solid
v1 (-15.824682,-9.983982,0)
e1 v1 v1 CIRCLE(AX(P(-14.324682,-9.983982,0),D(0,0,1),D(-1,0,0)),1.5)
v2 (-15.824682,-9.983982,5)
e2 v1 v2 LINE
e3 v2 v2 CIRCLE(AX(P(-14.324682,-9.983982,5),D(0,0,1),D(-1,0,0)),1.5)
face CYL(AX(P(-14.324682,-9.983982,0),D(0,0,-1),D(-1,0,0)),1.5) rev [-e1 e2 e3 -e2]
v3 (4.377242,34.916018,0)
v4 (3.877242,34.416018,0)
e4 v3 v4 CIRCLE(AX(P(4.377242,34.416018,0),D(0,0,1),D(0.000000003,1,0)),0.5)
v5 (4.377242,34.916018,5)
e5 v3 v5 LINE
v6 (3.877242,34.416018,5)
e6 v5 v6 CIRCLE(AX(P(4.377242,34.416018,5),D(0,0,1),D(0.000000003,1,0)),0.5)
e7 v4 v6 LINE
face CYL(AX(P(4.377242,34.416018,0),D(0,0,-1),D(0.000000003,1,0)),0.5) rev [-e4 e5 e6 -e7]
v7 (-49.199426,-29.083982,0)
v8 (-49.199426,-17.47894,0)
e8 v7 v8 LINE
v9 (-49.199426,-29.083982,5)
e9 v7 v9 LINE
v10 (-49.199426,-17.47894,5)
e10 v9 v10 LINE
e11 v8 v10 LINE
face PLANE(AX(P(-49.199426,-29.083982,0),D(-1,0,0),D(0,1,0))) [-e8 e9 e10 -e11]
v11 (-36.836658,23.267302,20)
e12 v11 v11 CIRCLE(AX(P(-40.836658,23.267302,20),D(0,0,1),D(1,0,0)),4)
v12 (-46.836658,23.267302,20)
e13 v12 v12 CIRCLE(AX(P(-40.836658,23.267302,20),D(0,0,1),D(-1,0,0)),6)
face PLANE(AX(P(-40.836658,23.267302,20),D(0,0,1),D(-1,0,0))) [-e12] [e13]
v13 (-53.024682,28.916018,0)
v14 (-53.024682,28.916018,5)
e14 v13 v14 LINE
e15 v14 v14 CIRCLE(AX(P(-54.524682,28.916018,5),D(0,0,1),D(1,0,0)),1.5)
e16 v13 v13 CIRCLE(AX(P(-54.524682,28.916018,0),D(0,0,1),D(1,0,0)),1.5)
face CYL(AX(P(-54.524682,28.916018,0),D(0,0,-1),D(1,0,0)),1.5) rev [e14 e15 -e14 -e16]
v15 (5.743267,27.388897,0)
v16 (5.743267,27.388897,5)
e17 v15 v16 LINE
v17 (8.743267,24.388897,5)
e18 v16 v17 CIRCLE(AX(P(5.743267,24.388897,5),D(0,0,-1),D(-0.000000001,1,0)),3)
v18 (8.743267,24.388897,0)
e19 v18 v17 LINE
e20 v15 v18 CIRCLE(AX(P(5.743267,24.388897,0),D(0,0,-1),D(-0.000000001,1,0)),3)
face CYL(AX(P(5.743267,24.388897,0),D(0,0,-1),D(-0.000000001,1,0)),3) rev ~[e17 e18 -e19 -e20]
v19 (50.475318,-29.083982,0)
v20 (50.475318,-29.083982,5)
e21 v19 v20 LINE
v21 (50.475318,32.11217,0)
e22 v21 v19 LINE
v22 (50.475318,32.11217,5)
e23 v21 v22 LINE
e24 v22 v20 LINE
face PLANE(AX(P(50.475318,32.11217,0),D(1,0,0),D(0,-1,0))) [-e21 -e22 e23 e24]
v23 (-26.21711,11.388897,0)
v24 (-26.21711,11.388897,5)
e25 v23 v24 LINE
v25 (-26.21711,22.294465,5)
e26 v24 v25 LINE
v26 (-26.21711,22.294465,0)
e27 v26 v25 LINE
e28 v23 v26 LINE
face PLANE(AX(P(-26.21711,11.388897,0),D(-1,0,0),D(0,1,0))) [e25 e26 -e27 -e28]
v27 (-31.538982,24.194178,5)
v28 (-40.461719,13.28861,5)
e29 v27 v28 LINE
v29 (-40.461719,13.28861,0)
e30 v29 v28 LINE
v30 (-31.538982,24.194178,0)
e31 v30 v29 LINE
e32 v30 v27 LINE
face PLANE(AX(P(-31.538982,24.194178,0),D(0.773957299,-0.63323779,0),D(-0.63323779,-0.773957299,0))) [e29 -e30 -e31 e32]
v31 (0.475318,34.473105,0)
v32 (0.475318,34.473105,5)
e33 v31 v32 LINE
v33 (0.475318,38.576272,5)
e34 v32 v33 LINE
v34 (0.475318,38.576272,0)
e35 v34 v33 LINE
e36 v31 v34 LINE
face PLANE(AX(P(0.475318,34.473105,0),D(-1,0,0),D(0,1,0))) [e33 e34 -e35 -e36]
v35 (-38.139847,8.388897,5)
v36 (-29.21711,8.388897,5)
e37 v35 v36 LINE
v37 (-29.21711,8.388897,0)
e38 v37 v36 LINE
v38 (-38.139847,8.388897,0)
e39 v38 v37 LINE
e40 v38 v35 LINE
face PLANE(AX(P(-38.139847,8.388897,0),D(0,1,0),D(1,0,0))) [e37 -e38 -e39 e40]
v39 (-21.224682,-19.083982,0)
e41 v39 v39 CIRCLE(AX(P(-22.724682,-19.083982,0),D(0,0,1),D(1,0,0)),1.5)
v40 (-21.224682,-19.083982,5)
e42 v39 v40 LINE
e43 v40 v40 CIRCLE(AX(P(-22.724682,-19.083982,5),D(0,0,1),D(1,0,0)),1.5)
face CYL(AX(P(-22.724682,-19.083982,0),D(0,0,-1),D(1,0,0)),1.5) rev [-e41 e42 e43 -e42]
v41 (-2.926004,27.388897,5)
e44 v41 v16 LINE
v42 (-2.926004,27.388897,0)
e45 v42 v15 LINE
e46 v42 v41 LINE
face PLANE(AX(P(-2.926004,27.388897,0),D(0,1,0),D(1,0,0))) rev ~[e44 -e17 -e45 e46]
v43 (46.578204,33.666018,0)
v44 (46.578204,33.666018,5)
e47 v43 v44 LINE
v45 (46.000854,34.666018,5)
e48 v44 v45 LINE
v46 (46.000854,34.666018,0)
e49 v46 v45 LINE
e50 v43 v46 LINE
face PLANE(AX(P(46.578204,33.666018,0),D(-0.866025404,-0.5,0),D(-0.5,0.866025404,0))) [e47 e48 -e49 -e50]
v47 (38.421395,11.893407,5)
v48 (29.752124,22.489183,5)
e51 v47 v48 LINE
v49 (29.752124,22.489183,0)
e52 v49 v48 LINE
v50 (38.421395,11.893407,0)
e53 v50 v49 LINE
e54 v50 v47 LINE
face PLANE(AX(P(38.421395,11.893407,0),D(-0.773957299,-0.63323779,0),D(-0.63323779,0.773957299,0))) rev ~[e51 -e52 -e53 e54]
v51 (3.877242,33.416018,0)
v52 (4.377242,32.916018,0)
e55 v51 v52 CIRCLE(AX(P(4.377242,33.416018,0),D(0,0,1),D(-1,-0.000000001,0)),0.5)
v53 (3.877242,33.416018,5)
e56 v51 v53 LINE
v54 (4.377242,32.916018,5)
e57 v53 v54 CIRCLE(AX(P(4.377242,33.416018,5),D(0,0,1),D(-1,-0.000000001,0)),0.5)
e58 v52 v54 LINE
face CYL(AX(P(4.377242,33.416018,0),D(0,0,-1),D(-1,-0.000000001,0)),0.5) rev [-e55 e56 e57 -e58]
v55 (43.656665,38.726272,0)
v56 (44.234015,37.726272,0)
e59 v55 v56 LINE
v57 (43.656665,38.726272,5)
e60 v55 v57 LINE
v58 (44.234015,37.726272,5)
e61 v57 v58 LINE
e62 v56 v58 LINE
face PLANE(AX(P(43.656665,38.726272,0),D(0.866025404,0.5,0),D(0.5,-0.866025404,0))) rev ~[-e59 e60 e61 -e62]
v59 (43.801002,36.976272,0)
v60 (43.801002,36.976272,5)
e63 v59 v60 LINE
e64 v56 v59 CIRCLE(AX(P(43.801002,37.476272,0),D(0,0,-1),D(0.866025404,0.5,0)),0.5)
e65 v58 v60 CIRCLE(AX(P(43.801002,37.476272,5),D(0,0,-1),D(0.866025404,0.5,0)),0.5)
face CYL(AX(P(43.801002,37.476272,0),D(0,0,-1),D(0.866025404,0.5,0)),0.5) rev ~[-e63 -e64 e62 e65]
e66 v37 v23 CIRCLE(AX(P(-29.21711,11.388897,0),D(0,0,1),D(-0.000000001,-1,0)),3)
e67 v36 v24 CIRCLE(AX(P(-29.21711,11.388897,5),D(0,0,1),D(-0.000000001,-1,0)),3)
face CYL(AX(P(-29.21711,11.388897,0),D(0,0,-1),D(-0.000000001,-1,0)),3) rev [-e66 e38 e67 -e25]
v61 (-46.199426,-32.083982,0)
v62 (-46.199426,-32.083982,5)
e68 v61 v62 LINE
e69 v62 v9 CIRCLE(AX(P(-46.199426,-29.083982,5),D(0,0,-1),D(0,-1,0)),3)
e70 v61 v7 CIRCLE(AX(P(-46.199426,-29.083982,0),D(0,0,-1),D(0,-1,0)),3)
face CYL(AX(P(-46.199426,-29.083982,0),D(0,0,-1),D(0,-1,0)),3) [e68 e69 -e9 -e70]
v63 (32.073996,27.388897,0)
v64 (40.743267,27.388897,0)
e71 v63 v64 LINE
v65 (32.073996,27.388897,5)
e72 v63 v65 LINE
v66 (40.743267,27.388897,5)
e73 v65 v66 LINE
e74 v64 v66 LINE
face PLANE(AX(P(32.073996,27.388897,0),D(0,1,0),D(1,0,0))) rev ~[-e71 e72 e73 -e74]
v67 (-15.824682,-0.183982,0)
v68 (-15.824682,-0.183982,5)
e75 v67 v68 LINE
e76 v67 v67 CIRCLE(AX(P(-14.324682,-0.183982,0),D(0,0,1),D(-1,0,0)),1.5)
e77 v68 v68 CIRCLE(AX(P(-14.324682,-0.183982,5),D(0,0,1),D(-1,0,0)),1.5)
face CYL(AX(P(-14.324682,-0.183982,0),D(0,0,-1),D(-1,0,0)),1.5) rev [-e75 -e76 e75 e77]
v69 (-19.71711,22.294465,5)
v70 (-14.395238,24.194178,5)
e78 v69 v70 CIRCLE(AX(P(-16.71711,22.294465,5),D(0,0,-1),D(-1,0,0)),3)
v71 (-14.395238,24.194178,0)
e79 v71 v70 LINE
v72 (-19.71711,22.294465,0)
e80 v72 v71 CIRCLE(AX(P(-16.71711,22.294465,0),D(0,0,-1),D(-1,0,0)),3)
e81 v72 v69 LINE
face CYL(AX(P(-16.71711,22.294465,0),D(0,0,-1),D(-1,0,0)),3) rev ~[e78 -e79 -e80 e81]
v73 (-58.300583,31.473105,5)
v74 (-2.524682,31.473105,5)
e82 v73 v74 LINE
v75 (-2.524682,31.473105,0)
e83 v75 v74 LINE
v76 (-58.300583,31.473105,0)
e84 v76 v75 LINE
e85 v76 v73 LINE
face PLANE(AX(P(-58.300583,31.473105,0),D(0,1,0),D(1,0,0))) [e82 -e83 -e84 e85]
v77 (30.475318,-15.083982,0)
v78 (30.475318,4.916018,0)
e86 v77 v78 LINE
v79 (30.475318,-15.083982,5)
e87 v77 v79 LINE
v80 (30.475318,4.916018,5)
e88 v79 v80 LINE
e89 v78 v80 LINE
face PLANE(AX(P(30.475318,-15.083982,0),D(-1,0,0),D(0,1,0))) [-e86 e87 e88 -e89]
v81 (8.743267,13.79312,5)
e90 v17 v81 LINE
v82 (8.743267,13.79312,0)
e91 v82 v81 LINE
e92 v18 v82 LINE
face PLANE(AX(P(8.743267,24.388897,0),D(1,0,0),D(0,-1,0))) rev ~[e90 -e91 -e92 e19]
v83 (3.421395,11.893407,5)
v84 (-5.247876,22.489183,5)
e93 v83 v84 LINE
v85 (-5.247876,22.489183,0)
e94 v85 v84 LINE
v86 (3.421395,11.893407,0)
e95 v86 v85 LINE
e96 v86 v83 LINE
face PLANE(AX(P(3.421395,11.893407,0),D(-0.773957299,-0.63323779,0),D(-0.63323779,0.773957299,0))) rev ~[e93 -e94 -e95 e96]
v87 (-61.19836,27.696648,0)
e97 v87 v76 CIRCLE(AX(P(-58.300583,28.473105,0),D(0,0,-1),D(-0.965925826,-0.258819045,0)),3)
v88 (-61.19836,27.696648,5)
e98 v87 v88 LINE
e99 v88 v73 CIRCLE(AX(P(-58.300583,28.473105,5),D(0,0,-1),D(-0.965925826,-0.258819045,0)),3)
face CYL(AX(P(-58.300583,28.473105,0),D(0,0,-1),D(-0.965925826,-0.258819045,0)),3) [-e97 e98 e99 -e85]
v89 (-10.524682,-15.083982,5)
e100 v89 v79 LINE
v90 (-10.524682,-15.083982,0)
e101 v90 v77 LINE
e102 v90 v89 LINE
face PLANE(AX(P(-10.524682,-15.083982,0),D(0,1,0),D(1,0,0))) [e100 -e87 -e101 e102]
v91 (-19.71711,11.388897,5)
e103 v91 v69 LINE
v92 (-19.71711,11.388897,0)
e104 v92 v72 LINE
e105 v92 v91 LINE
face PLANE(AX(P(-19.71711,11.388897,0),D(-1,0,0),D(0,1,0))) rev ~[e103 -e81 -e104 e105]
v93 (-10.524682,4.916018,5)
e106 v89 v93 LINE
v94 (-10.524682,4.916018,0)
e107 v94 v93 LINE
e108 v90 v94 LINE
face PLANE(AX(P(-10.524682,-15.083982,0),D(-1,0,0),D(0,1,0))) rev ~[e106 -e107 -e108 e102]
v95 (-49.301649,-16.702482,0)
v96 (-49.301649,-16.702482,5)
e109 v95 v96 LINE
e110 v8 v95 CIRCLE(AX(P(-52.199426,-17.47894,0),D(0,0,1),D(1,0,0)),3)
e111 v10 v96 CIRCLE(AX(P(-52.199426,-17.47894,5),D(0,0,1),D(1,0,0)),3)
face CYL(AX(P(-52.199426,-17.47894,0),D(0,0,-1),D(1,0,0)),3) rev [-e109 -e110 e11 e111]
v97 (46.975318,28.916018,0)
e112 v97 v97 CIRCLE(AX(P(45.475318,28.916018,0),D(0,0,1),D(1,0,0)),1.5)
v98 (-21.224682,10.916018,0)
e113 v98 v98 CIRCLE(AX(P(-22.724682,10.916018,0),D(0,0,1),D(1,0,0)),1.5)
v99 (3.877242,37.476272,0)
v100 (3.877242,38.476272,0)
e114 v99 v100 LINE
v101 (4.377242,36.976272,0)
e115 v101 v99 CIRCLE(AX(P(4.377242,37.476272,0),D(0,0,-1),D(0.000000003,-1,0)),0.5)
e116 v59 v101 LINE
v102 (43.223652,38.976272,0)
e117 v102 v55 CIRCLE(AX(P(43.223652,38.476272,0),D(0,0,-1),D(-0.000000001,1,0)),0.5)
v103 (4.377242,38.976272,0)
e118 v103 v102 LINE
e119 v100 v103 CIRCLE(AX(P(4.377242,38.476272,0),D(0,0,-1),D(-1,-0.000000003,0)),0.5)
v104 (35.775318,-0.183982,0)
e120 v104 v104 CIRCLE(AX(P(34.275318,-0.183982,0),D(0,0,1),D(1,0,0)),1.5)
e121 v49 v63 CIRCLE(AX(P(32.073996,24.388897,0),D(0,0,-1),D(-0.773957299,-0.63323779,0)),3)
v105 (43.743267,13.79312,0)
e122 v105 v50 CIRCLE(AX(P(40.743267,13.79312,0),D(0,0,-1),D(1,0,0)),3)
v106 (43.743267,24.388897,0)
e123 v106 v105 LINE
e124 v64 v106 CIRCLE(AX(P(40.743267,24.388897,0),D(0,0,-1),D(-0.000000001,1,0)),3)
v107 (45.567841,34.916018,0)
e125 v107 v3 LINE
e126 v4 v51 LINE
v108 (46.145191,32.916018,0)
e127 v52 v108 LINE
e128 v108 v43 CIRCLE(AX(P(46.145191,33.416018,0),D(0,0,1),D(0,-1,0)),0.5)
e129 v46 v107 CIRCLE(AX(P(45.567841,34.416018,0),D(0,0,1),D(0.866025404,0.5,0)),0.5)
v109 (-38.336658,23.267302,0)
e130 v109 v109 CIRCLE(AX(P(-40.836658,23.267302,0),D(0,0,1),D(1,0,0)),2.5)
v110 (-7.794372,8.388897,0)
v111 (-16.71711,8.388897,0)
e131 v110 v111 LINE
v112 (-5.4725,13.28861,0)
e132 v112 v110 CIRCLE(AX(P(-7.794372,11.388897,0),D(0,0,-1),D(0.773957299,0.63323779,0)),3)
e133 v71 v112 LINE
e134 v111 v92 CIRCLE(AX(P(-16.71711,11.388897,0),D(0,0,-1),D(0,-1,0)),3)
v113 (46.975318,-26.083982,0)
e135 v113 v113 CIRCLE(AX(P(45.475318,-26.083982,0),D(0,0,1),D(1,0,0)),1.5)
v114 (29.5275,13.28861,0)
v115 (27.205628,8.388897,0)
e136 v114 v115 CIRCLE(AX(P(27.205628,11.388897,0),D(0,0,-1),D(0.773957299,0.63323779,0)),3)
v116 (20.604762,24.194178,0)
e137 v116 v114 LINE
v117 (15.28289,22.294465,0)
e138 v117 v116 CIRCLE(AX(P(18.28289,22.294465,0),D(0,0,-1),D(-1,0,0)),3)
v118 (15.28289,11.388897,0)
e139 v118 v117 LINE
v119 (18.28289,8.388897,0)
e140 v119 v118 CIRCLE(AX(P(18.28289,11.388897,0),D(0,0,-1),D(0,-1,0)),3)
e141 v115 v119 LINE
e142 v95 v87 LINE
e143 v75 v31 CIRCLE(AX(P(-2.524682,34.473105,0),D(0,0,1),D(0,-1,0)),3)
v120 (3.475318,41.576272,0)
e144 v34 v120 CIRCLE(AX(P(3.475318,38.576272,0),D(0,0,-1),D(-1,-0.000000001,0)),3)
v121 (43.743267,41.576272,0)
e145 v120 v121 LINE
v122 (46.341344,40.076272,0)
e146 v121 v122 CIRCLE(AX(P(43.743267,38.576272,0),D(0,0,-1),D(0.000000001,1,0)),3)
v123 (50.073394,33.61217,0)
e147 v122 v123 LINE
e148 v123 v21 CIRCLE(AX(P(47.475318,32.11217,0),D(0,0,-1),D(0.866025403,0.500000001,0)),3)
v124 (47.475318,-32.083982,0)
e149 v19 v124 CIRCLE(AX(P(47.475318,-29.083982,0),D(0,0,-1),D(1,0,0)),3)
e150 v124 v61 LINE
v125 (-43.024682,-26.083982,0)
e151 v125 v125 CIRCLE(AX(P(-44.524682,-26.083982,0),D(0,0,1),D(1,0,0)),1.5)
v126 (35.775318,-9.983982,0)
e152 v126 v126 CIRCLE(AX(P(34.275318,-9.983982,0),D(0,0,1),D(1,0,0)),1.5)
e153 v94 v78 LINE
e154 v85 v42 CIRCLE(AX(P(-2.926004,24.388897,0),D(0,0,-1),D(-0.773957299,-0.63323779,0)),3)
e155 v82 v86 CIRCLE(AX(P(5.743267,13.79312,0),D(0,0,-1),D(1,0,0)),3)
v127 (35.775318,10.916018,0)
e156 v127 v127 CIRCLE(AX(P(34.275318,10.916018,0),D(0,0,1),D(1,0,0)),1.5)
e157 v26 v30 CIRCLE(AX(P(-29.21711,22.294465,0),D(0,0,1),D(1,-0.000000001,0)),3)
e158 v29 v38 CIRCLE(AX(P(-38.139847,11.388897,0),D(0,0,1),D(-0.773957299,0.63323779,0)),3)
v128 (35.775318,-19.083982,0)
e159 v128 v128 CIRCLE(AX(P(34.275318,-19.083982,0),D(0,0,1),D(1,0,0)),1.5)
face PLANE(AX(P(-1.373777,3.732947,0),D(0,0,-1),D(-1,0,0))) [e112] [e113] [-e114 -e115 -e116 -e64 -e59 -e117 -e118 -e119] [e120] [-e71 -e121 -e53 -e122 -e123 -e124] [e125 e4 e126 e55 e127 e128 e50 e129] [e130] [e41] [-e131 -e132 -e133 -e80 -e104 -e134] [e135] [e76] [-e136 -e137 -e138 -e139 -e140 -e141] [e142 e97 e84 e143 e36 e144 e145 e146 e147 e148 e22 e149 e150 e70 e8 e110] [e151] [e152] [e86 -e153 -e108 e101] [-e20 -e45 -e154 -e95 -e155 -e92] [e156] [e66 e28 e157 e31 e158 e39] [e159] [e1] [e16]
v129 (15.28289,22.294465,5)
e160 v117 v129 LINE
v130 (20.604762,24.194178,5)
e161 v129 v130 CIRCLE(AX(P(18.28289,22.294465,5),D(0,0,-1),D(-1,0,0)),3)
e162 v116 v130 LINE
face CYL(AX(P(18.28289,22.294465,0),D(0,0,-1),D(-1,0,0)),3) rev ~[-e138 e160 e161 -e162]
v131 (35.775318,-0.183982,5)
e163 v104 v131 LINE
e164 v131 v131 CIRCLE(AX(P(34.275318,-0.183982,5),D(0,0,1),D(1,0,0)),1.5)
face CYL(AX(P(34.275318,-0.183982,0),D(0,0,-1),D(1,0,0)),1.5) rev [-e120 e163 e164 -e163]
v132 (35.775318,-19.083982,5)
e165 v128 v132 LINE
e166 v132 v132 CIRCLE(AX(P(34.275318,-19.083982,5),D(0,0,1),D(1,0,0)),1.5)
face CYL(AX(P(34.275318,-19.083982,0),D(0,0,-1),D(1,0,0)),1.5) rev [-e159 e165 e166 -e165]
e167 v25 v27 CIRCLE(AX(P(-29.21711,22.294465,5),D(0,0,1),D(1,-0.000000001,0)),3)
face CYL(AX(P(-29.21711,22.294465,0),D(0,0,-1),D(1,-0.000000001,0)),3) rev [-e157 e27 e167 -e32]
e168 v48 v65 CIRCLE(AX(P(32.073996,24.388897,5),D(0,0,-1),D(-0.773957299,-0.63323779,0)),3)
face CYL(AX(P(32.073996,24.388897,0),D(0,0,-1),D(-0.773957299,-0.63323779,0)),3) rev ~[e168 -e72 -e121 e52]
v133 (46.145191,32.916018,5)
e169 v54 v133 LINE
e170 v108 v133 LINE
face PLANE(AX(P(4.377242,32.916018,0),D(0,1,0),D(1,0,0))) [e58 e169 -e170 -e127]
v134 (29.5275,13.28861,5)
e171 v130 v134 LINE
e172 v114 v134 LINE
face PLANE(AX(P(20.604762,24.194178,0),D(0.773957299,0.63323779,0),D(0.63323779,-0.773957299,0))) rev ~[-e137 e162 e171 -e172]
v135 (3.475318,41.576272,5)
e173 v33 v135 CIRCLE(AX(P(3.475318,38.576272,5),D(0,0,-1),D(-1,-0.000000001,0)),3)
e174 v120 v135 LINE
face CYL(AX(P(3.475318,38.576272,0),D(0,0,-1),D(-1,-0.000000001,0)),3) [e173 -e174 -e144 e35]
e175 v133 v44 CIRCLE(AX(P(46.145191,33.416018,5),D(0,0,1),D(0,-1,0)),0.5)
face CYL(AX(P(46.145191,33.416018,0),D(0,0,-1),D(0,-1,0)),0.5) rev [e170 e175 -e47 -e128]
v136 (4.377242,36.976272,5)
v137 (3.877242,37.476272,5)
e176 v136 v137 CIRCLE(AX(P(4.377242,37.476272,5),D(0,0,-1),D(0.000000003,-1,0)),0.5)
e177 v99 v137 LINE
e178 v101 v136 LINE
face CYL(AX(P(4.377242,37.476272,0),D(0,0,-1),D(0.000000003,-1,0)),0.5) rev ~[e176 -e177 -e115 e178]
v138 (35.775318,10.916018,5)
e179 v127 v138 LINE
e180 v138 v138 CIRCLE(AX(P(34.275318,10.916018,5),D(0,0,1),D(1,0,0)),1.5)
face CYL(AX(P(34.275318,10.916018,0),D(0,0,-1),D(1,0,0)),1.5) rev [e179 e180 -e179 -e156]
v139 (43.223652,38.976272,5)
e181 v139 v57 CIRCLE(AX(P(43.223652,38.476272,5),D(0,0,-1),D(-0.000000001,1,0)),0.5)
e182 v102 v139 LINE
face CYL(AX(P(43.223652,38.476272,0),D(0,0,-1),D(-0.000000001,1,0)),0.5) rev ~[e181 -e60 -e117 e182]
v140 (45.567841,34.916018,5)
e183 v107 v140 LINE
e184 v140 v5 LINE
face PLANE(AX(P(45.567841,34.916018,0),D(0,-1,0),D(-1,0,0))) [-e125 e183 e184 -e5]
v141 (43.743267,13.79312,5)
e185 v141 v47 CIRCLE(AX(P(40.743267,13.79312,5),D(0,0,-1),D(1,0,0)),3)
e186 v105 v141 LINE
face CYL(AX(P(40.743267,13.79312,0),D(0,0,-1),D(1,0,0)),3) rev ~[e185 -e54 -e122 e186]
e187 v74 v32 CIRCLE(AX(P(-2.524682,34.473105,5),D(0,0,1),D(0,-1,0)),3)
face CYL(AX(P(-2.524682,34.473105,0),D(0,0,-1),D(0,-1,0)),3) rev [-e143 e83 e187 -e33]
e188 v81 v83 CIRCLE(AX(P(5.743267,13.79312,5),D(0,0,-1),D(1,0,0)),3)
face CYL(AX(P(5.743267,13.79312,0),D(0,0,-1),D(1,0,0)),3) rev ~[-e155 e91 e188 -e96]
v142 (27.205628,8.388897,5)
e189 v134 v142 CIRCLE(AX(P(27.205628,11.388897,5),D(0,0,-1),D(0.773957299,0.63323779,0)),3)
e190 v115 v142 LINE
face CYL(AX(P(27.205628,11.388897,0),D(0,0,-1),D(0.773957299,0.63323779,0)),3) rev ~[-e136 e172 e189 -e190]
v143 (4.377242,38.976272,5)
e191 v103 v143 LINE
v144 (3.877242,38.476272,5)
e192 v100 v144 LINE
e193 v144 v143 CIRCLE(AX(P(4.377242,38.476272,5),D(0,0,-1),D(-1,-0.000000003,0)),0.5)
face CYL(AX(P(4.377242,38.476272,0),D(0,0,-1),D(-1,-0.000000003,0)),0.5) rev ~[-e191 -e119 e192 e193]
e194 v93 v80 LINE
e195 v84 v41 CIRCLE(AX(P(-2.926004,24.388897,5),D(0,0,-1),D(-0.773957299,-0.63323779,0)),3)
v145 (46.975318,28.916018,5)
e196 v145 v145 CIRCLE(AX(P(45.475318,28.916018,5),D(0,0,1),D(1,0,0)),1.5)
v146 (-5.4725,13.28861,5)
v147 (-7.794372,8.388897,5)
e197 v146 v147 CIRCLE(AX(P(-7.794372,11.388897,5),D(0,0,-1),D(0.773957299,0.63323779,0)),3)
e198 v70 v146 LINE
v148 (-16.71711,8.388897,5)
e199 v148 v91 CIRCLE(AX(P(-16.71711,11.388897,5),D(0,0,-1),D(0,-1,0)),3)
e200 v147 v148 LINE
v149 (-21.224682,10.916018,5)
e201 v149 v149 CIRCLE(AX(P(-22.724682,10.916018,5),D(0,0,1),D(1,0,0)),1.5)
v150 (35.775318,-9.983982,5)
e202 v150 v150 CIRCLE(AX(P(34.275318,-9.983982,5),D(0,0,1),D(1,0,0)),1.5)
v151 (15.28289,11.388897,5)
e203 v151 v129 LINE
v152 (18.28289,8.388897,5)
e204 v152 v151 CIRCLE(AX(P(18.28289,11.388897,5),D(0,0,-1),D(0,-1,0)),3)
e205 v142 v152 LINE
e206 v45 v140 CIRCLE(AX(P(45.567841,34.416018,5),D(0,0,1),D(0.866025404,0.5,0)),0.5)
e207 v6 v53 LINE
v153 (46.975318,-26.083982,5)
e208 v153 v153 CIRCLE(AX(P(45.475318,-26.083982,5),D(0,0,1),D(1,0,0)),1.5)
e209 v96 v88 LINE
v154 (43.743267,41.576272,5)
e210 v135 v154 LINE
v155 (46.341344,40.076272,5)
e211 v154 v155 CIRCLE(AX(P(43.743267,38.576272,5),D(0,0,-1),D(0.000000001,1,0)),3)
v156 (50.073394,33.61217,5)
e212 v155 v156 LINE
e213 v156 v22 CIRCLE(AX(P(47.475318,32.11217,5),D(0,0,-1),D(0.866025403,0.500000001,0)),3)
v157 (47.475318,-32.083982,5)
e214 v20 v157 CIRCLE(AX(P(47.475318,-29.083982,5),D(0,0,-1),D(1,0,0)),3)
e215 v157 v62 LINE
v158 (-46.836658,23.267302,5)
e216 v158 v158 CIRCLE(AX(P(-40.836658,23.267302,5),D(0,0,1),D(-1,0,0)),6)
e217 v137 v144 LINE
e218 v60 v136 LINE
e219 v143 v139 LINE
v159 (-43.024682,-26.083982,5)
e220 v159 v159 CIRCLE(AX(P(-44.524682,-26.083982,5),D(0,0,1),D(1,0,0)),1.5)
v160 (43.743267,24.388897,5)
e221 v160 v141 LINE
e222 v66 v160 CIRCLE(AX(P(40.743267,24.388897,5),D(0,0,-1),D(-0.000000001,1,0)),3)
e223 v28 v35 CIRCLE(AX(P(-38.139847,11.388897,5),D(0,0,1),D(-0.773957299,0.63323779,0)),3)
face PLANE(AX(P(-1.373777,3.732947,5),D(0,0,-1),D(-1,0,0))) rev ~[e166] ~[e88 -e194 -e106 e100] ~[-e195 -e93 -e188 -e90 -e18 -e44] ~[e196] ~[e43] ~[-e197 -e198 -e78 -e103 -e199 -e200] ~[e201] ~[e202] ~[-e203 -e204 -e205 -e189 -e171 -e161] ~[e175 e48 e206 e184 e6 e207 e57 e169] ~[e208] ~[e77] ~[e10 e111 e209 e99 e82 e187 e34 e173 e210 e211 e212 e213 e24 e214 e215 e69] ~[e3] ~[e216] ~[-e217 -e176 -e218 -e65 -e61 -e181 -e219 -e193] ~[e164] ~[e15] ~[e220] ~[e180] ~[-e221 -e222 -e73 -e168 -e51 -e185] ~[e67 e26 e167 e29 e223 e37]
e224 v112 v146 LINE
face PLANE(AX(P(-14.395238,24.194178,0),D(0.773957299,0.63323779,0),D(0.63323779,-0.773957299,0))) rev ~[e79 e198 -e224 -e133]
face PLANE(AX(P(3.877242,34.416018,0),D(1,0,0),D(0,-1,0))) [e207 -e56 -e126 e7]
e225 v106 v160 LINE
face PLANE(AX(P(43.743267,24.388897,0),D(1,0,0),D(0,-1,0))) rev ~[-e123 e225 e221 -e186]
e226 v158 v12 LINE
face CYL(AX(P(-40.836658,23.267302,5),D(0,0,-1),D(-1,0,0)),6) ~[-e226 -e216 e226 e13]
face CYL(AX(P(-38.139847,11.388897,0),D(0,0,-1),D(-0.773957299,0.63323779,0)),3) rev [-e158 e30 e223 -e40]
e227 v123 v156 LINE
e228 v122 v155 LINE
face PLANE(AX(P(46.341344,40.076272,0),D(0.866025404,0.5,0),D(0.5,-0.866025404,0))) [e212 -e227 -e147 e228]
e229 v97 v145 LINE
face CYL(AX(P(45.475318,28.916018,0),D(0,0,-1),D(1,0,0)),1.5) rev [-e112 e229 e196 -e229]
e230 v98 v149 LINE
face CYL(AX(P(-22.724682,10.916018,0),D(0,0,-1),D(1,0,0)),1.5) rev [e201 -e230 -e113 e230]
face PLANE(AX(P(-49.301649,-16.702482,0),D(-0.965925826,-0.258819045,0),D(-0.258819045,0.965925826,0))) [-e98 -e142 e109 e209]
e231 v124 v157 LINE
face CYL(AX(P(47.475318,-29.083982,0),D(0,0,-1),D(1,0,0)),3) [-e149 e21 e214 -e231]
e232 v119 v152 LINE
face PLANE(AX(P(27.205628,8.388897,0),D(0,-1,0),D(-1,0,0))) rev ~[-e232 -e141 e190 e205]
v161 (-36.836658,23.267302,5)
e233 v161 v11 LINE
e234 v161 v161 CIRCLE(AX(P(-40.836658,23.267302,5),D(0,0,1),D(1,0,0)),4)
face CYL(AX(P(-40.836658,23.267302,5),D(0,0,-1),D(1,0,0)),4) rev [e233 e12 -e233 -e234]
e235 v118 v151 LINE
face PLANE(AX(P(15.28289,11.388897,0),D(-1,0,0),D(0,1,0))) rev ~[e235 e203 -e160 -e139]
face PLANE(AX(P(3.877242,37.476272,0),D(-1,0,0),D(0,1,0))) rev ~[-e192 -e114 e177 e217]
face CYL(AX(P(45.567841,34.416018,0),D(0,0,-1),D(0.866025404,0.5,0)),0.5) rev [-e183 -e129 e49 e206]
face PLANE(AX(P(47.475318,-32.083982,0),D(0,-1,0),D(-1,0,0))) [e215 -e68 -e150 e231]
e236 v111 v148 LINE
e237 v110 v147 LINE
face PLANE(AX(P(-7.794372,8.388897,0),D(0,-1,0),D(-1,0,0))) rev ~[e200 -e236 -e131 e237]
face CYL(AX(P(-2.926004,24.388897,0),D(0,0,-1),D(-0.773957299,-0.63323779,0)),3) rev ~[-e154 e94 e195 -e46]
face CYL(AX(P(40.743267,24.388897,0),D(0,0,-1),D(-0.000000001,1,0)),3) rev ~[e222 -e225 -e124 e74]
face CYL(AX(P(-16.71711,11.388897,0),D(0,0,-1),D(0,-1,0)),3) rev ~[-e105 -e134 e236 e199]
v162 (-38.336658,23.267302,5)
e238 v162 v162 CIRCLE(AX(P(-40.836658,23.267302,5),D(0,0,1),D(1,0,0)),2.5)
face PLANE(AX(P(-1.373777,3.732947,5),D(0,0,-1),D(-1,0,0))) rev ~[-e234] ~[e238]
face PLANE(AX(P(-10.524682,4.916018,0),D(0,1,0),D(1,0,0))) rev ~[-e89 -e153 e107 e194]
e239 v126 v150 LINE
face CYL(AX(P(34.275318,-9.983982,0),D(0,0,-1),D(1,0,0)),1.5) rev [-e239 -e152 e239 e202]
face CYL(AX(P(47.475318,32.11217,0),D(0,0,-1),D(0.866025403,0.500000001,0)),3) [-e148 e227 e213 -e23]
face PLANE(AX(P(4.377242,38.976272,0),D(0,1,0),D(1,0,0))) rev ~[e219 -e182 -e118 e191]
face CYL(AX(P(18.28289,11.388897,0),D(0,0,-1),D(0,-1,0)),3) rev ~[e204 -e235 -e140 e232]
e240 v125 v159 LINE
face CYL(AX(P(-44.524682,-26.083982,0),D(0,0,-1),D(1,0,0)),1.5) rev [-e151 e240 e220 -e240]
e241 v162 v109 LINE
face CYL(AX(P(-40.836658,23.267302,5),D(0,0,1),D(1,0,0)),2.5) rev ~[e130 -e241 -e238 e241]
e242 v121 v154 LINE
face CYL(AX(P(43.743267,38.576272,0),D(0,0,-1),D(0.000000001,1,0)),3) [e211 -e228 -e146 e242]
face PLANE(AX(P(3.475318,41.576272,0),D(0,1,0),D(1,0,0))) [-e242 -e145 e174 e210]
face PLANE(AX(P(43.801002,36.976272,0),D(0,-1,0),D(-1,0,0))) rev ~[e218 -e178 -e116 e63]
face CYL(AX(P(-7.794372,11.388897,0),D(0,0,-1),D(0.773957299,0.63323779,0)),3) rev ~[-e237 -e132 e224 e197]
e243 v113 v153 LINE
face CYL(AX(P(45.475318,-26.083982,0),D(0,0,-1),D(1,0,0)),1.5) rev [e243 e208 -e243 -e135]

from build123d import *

# Parameters (mm, degrees)
SKETCH_1_R          = 1.5
SKETCH_1_W          = 41
SKETCH_1_H          = 20
EXTRUDE_1_DEPTH     = 5
SKETCH_6_R          = 6
SKETCH_6_R_2        = 4
EXTRUDE_3_DEPTH     = 15
SKETCH_7_R          = 2.5
CUT_EXTRUDE_1_DEPTH = 76.573459736


with BuildPart() as part:
    # 草图1 → 凸台-拉伸1 (new body)
    with BuildSketch(Plane.XY):
        with BuildLine():
            Line((50.475318096, 32.112170347), (50.475318096, -29.083982076))
            ThreePointArc((50.475318096, -29.083982076), (49.59663844, -31.205302419), (47.475318096, -32.083982076))
            Line((47.475318096, -32.083982076), (-46.199426394, -32.083982076))
            ThreePointArc((-46.199426394, -32.083982076), (-48.320746738, -31.205302419), (-49.199426394, -29.083982076))
            Line((-49.199426394, -29.083982076), (-49.199426394, -17.478939569))
            ThreePointArc((-49.199426394, -17.478939569), (-49.22509181, -17.087360992), (-49.301648916, -16.702482433))
            Line((-49.301648916, -16.702482433), (-61.198360071, 27.696648043))
            ThreePointArc((-61.198360071, 27.696648043), (-60.680642613, 30.299389465), (-58.300582592, 31.473105178))
            Line((-58.300582592, 31.473105178), (-2.524681904, 31.473105178))
            ThreePointArc((-2.524681904, 31.473105178), (-0.40336156, 32.351784835), (0.475318096, 34.473105178))
            Line((0.475318096, 34.473105178), (0.475318096, 38.576271962))
            ThreePointArc((0.475318096, 38.576271962), (1.353997752, 40.697592306), (3.475318096, 41.576271962))
            Line((3.475318096, 41.576271962), (43.743267288, 41.576271962))
            ThreePointArc((43.743267288, 41.576271962), (45.243267288, 41.174348173), (46.3413435, 40.076271962))
            Line((46.3413435, 40.076271962), (50.073394307, 33.612170347))
            ThreePointArc((50.073394307, 33.612170347), (50.373095575, 32.888627482), (50.475318096, 32.112170347))
        make_face()
        with Locations((34.275318096, -0.183982076)):
            Circle(SKETCH_1_R, mode=Mode.SUBTRACT)
        with Locations((34.275318096, -9.983982076)):
            Circle(SKETCH_1_R, mode=Mode.SUBTRACT)
        with Locations(Location((-14.324681904, -9.983982076, 0), (0, 0, 180))):
            Circle(SKETCH_1_R, mode=Mode.SUBTRACT)
        with Locations(Location((-14.324681904, -0.183982076, 0), (0, 0, 180))):
            Circle(SKETCH_1_R, mode=Mode.SUBTRACT)
        with Locations((45.475318096, -26.083982076)):
            Circle(SKETCH_1_R, mode=Mode.SUBTRACT)
        with Locations((45.475318096, 28.916017924)):
            Circle(SKETCH_1_R, mode=Mode.SUBTRACT)
        with Locations((-44.524681904, -26.083982076)):
            Circle(SKETCH_1_R, mode=Mode.SUBTRACT)
        with Locations((-54.524681904, 28.916017924)):
            Circle(SKETCH_1_R, mode=Mode.SUBTRACT)
        with Locations((34.275318096, 10.916017924)):
            Circle(SKETCH_1_R, mode=Mode.SUBTRACT)
        with Locations((-22.724681904, 10.916017924)):
            Circle(SKETCH_1_R, mode=Mode.SUBTRACT)
        with Locations((34.275318096, -19.083982076)):
            Circle(SKETCH_1_R, mode=Mode.SUBTRACT)
        with Locations((-22.724681904, -19.083982076)):
            Circle(SKETCH_1_R, mode=Mode.SUBTRACT)
        with Locations((9.975318096, -5.083982076)):
            Rectangle(SKETCH_1_W, SKETCH_1_H, mode=Mode.SUBTRACT)
        with BuildLine():
            Line((43.743267288, 24.388896624), (43.743267288, 13.793120092))
            ThreePointArc((43.743267288, 13.793120092), (41.751826733, 10.967733774), (38.421395391, 11.893406721))
            Line((38.421395391, 11.893406721), (29.752123683, 22.489183253))
            ThreePointArc((29.752123683, 22.489183253), (29.362986533, 25.673587226), (32.07399558, 27.388896624))
            Line((32.07399558, 27.388896624), (40.743267288, 27.388896624))
            ThreePointArc((40.743267288, 27.388896624), (42.864587632, 26.510216968), (43.743267288, 24.388896624))
        make_face(mode=Mode.SUBTRACT)
        with BuildLine():
            Line((27.205627867, 8.388896624), (18.282890218, 8.388896624))
            ThreePointArc((18.282890218, 8.388896624), (16.161569875, 9.26757628), (15.282890218, 11.388896624))
            Line((15.282890218, 11.388896624), (15.282890218, 22.294464861))
            ThreePointArc((15.282890218, 22.294464861), (17.274330774, 25.11985118), (20.604762116, 24.194178232))
            Line((20.604762116, 24.194178232), (29.527499765, 13.288609995))
            ThreePointArc((29.527499765, 13.288609995), (29.916636915, 10.104206022), (27.205627867, 8.388896624))
        make_face(mode=Mode.SUBTRACT)
        with BuildLine():
            Line((-2.92600442, 27.388896624), (5.743267288, 27.388896624))
            ThreePointArc((5.743267288, 27.388896624), (7.864587632, 26.510216968), (8.743267288, 24.388896624))
            Line((8.743267288, 24.388896624), (8.743267288, 13.793120092))
            ThreePointArc((8.743267288, 13.793120092), (6.751826733, 10.967733774), (3.421395391, 11.893406721))
            Line((3.421395391, 11.893406721), (-5.247876317, 22.489183253))
            ThreePointArc((-5.247876317, 22.489183253), (-5.637013467, 25.673587226), (-2.92600442, 27.388896624))
        make_face(mode=Mode.SUBTRACT)
        with BuildLine():
            Line((-7.794372133, 8.388896624), (-16.717109782, 8.388896624))
            ThreePointArc((-16.717109782, 8.388896624), (-18.838430125, 9.26757628), (-19.717109782, 11.388896624))
            Line((-19.717109782, 11.388896624), (-19.717109782, 22.294464861))
            ThreePointArc((-19.717109782, 22.294464861), (-17.725669226, 25.11985118), (-14.395237884, 24.194178232))
            Line((-14.395237884, 24.194178232), (-5.472500235, 13.288609995))
            ThreePointArc((-5.472500235, 13.288609995), (-5.083363085, 10.104206022), (-7.794372133, 8.388896624))
        make_face(mode=Mode.SUBTRACT)
        with BuildLine():
            Line((-38.13984743, 8.388896624), (-29.217109782, 8.388896624))
            ThreePointArc((-29.217109782, 8.388896624), (-27.095789438, 9.26757628), (-26.217109782, 11.388896624))
            Line((-26.217109782, 11.388896624), (-26.217109782, 22.294464861))
            ThreePointArc((-26.217109782, 22.294464861), (-28.208550337, 25.11985118), (-31.538981679, 24.194178232))
            Line((-31.538981679, 24.194178232), (-40.461719328, 13.288609995))
            ThreePointArc((-40.461719328, 13.288609995), (-40.850856478, 10.104206022), (-38.13984743, 8.388896624))
        make_face(mode=Mode.SUBTRACT)
        with BuildLine():
            Line((43.656664748, 38.726271962), (44.234015017, 37.726271962))
            ThreePointArc((44.234015017, 37.726271962), (44.234015017, 37.226271962), (43.801002315, 36.976271962))
            Line((43.801002315, 36.976271962), (4.377241885, 36.976271962))
            ThreePointArc((4.377241885, 36.976271962), (4.023688494, 37.122718571), (3.877241885, 37.476271962))
            Line((3.877241885, 37.476271962), (3.877241885, 38.476271962))
            ThreePointArc((3.877241885, 38.476271962), (4.023688494, 38.829825353), (4.377241885, 38.976271962))
            Line((4.377241885, 38.976271962), (43.223652046, 38.976271962))
            ThreePointArc((43.223652046, 38.976271962), (43.473652046, 38.909284664), (43.656664748, 38.726271962))
        make_face(mode=Mode.SUBTRACT)
        with BuildLine():
            Line((45.567840808, 34.916017924), (4.377241885, 34.916017924))
            ThreePointArc((4.377241885, 34.916017924), (4.023688494, 34.769571315), (3.877241885, 34.416017924))
            Line((3.877241885, 34.416017924), (3.877241885, 33.416017924))
            ThreePointArc((3.877241885, 33.416017924), (4.023688494, 33.062464534), (4.377241885, 32.916017924))
            Line((4.377241885, 32.916017924), (46.145191077, 32.916017924))
            ThreePointArc((46.145191077, 32.916017924), (46.578203779, 33.166017924), (46.578203779, 33.666017924))
            Line((46.578203779, 33.666017924), (46.00085351, 34.666017924))
            ThreePointArc((46.00085351, 34.666017924), (45.817840808, 34.849030626), (45.567840808, 34.916017924))
        make_face(mode=Mode.SUBTRACT)
    extrude(amount=EXTRUDE_1_DEPTH)

    # 草图6 → 凸台-拉伸3 (add)
    with BuildSketch(Plane.XY.offset(5)):
        with Locations(Location((-40.836658363, 23.267301815, 0), (0, 0, 180))):
            Circle(SKETCH_6_R)
        with Locations((-40.836658363, 23.267301815)):
            Circle(SKETCH_6_R_2, mode=Mode.SUBTRACT)
    extrude(amount=EXTRUDE_3_DEPTH)

    # 草图7 → 切除-拉伸1 (cut, through all)
    with BuildSketch(Plane.XY.offset(5)):
        with Locations((-40.836658363, 23.267301815)):
            Circle(SKETCH_7_R)
    extrude(amount=-CUT_EXTRUDE_1_DEPTH, mode=Mode.SUBTRACT)


solid = part.part
